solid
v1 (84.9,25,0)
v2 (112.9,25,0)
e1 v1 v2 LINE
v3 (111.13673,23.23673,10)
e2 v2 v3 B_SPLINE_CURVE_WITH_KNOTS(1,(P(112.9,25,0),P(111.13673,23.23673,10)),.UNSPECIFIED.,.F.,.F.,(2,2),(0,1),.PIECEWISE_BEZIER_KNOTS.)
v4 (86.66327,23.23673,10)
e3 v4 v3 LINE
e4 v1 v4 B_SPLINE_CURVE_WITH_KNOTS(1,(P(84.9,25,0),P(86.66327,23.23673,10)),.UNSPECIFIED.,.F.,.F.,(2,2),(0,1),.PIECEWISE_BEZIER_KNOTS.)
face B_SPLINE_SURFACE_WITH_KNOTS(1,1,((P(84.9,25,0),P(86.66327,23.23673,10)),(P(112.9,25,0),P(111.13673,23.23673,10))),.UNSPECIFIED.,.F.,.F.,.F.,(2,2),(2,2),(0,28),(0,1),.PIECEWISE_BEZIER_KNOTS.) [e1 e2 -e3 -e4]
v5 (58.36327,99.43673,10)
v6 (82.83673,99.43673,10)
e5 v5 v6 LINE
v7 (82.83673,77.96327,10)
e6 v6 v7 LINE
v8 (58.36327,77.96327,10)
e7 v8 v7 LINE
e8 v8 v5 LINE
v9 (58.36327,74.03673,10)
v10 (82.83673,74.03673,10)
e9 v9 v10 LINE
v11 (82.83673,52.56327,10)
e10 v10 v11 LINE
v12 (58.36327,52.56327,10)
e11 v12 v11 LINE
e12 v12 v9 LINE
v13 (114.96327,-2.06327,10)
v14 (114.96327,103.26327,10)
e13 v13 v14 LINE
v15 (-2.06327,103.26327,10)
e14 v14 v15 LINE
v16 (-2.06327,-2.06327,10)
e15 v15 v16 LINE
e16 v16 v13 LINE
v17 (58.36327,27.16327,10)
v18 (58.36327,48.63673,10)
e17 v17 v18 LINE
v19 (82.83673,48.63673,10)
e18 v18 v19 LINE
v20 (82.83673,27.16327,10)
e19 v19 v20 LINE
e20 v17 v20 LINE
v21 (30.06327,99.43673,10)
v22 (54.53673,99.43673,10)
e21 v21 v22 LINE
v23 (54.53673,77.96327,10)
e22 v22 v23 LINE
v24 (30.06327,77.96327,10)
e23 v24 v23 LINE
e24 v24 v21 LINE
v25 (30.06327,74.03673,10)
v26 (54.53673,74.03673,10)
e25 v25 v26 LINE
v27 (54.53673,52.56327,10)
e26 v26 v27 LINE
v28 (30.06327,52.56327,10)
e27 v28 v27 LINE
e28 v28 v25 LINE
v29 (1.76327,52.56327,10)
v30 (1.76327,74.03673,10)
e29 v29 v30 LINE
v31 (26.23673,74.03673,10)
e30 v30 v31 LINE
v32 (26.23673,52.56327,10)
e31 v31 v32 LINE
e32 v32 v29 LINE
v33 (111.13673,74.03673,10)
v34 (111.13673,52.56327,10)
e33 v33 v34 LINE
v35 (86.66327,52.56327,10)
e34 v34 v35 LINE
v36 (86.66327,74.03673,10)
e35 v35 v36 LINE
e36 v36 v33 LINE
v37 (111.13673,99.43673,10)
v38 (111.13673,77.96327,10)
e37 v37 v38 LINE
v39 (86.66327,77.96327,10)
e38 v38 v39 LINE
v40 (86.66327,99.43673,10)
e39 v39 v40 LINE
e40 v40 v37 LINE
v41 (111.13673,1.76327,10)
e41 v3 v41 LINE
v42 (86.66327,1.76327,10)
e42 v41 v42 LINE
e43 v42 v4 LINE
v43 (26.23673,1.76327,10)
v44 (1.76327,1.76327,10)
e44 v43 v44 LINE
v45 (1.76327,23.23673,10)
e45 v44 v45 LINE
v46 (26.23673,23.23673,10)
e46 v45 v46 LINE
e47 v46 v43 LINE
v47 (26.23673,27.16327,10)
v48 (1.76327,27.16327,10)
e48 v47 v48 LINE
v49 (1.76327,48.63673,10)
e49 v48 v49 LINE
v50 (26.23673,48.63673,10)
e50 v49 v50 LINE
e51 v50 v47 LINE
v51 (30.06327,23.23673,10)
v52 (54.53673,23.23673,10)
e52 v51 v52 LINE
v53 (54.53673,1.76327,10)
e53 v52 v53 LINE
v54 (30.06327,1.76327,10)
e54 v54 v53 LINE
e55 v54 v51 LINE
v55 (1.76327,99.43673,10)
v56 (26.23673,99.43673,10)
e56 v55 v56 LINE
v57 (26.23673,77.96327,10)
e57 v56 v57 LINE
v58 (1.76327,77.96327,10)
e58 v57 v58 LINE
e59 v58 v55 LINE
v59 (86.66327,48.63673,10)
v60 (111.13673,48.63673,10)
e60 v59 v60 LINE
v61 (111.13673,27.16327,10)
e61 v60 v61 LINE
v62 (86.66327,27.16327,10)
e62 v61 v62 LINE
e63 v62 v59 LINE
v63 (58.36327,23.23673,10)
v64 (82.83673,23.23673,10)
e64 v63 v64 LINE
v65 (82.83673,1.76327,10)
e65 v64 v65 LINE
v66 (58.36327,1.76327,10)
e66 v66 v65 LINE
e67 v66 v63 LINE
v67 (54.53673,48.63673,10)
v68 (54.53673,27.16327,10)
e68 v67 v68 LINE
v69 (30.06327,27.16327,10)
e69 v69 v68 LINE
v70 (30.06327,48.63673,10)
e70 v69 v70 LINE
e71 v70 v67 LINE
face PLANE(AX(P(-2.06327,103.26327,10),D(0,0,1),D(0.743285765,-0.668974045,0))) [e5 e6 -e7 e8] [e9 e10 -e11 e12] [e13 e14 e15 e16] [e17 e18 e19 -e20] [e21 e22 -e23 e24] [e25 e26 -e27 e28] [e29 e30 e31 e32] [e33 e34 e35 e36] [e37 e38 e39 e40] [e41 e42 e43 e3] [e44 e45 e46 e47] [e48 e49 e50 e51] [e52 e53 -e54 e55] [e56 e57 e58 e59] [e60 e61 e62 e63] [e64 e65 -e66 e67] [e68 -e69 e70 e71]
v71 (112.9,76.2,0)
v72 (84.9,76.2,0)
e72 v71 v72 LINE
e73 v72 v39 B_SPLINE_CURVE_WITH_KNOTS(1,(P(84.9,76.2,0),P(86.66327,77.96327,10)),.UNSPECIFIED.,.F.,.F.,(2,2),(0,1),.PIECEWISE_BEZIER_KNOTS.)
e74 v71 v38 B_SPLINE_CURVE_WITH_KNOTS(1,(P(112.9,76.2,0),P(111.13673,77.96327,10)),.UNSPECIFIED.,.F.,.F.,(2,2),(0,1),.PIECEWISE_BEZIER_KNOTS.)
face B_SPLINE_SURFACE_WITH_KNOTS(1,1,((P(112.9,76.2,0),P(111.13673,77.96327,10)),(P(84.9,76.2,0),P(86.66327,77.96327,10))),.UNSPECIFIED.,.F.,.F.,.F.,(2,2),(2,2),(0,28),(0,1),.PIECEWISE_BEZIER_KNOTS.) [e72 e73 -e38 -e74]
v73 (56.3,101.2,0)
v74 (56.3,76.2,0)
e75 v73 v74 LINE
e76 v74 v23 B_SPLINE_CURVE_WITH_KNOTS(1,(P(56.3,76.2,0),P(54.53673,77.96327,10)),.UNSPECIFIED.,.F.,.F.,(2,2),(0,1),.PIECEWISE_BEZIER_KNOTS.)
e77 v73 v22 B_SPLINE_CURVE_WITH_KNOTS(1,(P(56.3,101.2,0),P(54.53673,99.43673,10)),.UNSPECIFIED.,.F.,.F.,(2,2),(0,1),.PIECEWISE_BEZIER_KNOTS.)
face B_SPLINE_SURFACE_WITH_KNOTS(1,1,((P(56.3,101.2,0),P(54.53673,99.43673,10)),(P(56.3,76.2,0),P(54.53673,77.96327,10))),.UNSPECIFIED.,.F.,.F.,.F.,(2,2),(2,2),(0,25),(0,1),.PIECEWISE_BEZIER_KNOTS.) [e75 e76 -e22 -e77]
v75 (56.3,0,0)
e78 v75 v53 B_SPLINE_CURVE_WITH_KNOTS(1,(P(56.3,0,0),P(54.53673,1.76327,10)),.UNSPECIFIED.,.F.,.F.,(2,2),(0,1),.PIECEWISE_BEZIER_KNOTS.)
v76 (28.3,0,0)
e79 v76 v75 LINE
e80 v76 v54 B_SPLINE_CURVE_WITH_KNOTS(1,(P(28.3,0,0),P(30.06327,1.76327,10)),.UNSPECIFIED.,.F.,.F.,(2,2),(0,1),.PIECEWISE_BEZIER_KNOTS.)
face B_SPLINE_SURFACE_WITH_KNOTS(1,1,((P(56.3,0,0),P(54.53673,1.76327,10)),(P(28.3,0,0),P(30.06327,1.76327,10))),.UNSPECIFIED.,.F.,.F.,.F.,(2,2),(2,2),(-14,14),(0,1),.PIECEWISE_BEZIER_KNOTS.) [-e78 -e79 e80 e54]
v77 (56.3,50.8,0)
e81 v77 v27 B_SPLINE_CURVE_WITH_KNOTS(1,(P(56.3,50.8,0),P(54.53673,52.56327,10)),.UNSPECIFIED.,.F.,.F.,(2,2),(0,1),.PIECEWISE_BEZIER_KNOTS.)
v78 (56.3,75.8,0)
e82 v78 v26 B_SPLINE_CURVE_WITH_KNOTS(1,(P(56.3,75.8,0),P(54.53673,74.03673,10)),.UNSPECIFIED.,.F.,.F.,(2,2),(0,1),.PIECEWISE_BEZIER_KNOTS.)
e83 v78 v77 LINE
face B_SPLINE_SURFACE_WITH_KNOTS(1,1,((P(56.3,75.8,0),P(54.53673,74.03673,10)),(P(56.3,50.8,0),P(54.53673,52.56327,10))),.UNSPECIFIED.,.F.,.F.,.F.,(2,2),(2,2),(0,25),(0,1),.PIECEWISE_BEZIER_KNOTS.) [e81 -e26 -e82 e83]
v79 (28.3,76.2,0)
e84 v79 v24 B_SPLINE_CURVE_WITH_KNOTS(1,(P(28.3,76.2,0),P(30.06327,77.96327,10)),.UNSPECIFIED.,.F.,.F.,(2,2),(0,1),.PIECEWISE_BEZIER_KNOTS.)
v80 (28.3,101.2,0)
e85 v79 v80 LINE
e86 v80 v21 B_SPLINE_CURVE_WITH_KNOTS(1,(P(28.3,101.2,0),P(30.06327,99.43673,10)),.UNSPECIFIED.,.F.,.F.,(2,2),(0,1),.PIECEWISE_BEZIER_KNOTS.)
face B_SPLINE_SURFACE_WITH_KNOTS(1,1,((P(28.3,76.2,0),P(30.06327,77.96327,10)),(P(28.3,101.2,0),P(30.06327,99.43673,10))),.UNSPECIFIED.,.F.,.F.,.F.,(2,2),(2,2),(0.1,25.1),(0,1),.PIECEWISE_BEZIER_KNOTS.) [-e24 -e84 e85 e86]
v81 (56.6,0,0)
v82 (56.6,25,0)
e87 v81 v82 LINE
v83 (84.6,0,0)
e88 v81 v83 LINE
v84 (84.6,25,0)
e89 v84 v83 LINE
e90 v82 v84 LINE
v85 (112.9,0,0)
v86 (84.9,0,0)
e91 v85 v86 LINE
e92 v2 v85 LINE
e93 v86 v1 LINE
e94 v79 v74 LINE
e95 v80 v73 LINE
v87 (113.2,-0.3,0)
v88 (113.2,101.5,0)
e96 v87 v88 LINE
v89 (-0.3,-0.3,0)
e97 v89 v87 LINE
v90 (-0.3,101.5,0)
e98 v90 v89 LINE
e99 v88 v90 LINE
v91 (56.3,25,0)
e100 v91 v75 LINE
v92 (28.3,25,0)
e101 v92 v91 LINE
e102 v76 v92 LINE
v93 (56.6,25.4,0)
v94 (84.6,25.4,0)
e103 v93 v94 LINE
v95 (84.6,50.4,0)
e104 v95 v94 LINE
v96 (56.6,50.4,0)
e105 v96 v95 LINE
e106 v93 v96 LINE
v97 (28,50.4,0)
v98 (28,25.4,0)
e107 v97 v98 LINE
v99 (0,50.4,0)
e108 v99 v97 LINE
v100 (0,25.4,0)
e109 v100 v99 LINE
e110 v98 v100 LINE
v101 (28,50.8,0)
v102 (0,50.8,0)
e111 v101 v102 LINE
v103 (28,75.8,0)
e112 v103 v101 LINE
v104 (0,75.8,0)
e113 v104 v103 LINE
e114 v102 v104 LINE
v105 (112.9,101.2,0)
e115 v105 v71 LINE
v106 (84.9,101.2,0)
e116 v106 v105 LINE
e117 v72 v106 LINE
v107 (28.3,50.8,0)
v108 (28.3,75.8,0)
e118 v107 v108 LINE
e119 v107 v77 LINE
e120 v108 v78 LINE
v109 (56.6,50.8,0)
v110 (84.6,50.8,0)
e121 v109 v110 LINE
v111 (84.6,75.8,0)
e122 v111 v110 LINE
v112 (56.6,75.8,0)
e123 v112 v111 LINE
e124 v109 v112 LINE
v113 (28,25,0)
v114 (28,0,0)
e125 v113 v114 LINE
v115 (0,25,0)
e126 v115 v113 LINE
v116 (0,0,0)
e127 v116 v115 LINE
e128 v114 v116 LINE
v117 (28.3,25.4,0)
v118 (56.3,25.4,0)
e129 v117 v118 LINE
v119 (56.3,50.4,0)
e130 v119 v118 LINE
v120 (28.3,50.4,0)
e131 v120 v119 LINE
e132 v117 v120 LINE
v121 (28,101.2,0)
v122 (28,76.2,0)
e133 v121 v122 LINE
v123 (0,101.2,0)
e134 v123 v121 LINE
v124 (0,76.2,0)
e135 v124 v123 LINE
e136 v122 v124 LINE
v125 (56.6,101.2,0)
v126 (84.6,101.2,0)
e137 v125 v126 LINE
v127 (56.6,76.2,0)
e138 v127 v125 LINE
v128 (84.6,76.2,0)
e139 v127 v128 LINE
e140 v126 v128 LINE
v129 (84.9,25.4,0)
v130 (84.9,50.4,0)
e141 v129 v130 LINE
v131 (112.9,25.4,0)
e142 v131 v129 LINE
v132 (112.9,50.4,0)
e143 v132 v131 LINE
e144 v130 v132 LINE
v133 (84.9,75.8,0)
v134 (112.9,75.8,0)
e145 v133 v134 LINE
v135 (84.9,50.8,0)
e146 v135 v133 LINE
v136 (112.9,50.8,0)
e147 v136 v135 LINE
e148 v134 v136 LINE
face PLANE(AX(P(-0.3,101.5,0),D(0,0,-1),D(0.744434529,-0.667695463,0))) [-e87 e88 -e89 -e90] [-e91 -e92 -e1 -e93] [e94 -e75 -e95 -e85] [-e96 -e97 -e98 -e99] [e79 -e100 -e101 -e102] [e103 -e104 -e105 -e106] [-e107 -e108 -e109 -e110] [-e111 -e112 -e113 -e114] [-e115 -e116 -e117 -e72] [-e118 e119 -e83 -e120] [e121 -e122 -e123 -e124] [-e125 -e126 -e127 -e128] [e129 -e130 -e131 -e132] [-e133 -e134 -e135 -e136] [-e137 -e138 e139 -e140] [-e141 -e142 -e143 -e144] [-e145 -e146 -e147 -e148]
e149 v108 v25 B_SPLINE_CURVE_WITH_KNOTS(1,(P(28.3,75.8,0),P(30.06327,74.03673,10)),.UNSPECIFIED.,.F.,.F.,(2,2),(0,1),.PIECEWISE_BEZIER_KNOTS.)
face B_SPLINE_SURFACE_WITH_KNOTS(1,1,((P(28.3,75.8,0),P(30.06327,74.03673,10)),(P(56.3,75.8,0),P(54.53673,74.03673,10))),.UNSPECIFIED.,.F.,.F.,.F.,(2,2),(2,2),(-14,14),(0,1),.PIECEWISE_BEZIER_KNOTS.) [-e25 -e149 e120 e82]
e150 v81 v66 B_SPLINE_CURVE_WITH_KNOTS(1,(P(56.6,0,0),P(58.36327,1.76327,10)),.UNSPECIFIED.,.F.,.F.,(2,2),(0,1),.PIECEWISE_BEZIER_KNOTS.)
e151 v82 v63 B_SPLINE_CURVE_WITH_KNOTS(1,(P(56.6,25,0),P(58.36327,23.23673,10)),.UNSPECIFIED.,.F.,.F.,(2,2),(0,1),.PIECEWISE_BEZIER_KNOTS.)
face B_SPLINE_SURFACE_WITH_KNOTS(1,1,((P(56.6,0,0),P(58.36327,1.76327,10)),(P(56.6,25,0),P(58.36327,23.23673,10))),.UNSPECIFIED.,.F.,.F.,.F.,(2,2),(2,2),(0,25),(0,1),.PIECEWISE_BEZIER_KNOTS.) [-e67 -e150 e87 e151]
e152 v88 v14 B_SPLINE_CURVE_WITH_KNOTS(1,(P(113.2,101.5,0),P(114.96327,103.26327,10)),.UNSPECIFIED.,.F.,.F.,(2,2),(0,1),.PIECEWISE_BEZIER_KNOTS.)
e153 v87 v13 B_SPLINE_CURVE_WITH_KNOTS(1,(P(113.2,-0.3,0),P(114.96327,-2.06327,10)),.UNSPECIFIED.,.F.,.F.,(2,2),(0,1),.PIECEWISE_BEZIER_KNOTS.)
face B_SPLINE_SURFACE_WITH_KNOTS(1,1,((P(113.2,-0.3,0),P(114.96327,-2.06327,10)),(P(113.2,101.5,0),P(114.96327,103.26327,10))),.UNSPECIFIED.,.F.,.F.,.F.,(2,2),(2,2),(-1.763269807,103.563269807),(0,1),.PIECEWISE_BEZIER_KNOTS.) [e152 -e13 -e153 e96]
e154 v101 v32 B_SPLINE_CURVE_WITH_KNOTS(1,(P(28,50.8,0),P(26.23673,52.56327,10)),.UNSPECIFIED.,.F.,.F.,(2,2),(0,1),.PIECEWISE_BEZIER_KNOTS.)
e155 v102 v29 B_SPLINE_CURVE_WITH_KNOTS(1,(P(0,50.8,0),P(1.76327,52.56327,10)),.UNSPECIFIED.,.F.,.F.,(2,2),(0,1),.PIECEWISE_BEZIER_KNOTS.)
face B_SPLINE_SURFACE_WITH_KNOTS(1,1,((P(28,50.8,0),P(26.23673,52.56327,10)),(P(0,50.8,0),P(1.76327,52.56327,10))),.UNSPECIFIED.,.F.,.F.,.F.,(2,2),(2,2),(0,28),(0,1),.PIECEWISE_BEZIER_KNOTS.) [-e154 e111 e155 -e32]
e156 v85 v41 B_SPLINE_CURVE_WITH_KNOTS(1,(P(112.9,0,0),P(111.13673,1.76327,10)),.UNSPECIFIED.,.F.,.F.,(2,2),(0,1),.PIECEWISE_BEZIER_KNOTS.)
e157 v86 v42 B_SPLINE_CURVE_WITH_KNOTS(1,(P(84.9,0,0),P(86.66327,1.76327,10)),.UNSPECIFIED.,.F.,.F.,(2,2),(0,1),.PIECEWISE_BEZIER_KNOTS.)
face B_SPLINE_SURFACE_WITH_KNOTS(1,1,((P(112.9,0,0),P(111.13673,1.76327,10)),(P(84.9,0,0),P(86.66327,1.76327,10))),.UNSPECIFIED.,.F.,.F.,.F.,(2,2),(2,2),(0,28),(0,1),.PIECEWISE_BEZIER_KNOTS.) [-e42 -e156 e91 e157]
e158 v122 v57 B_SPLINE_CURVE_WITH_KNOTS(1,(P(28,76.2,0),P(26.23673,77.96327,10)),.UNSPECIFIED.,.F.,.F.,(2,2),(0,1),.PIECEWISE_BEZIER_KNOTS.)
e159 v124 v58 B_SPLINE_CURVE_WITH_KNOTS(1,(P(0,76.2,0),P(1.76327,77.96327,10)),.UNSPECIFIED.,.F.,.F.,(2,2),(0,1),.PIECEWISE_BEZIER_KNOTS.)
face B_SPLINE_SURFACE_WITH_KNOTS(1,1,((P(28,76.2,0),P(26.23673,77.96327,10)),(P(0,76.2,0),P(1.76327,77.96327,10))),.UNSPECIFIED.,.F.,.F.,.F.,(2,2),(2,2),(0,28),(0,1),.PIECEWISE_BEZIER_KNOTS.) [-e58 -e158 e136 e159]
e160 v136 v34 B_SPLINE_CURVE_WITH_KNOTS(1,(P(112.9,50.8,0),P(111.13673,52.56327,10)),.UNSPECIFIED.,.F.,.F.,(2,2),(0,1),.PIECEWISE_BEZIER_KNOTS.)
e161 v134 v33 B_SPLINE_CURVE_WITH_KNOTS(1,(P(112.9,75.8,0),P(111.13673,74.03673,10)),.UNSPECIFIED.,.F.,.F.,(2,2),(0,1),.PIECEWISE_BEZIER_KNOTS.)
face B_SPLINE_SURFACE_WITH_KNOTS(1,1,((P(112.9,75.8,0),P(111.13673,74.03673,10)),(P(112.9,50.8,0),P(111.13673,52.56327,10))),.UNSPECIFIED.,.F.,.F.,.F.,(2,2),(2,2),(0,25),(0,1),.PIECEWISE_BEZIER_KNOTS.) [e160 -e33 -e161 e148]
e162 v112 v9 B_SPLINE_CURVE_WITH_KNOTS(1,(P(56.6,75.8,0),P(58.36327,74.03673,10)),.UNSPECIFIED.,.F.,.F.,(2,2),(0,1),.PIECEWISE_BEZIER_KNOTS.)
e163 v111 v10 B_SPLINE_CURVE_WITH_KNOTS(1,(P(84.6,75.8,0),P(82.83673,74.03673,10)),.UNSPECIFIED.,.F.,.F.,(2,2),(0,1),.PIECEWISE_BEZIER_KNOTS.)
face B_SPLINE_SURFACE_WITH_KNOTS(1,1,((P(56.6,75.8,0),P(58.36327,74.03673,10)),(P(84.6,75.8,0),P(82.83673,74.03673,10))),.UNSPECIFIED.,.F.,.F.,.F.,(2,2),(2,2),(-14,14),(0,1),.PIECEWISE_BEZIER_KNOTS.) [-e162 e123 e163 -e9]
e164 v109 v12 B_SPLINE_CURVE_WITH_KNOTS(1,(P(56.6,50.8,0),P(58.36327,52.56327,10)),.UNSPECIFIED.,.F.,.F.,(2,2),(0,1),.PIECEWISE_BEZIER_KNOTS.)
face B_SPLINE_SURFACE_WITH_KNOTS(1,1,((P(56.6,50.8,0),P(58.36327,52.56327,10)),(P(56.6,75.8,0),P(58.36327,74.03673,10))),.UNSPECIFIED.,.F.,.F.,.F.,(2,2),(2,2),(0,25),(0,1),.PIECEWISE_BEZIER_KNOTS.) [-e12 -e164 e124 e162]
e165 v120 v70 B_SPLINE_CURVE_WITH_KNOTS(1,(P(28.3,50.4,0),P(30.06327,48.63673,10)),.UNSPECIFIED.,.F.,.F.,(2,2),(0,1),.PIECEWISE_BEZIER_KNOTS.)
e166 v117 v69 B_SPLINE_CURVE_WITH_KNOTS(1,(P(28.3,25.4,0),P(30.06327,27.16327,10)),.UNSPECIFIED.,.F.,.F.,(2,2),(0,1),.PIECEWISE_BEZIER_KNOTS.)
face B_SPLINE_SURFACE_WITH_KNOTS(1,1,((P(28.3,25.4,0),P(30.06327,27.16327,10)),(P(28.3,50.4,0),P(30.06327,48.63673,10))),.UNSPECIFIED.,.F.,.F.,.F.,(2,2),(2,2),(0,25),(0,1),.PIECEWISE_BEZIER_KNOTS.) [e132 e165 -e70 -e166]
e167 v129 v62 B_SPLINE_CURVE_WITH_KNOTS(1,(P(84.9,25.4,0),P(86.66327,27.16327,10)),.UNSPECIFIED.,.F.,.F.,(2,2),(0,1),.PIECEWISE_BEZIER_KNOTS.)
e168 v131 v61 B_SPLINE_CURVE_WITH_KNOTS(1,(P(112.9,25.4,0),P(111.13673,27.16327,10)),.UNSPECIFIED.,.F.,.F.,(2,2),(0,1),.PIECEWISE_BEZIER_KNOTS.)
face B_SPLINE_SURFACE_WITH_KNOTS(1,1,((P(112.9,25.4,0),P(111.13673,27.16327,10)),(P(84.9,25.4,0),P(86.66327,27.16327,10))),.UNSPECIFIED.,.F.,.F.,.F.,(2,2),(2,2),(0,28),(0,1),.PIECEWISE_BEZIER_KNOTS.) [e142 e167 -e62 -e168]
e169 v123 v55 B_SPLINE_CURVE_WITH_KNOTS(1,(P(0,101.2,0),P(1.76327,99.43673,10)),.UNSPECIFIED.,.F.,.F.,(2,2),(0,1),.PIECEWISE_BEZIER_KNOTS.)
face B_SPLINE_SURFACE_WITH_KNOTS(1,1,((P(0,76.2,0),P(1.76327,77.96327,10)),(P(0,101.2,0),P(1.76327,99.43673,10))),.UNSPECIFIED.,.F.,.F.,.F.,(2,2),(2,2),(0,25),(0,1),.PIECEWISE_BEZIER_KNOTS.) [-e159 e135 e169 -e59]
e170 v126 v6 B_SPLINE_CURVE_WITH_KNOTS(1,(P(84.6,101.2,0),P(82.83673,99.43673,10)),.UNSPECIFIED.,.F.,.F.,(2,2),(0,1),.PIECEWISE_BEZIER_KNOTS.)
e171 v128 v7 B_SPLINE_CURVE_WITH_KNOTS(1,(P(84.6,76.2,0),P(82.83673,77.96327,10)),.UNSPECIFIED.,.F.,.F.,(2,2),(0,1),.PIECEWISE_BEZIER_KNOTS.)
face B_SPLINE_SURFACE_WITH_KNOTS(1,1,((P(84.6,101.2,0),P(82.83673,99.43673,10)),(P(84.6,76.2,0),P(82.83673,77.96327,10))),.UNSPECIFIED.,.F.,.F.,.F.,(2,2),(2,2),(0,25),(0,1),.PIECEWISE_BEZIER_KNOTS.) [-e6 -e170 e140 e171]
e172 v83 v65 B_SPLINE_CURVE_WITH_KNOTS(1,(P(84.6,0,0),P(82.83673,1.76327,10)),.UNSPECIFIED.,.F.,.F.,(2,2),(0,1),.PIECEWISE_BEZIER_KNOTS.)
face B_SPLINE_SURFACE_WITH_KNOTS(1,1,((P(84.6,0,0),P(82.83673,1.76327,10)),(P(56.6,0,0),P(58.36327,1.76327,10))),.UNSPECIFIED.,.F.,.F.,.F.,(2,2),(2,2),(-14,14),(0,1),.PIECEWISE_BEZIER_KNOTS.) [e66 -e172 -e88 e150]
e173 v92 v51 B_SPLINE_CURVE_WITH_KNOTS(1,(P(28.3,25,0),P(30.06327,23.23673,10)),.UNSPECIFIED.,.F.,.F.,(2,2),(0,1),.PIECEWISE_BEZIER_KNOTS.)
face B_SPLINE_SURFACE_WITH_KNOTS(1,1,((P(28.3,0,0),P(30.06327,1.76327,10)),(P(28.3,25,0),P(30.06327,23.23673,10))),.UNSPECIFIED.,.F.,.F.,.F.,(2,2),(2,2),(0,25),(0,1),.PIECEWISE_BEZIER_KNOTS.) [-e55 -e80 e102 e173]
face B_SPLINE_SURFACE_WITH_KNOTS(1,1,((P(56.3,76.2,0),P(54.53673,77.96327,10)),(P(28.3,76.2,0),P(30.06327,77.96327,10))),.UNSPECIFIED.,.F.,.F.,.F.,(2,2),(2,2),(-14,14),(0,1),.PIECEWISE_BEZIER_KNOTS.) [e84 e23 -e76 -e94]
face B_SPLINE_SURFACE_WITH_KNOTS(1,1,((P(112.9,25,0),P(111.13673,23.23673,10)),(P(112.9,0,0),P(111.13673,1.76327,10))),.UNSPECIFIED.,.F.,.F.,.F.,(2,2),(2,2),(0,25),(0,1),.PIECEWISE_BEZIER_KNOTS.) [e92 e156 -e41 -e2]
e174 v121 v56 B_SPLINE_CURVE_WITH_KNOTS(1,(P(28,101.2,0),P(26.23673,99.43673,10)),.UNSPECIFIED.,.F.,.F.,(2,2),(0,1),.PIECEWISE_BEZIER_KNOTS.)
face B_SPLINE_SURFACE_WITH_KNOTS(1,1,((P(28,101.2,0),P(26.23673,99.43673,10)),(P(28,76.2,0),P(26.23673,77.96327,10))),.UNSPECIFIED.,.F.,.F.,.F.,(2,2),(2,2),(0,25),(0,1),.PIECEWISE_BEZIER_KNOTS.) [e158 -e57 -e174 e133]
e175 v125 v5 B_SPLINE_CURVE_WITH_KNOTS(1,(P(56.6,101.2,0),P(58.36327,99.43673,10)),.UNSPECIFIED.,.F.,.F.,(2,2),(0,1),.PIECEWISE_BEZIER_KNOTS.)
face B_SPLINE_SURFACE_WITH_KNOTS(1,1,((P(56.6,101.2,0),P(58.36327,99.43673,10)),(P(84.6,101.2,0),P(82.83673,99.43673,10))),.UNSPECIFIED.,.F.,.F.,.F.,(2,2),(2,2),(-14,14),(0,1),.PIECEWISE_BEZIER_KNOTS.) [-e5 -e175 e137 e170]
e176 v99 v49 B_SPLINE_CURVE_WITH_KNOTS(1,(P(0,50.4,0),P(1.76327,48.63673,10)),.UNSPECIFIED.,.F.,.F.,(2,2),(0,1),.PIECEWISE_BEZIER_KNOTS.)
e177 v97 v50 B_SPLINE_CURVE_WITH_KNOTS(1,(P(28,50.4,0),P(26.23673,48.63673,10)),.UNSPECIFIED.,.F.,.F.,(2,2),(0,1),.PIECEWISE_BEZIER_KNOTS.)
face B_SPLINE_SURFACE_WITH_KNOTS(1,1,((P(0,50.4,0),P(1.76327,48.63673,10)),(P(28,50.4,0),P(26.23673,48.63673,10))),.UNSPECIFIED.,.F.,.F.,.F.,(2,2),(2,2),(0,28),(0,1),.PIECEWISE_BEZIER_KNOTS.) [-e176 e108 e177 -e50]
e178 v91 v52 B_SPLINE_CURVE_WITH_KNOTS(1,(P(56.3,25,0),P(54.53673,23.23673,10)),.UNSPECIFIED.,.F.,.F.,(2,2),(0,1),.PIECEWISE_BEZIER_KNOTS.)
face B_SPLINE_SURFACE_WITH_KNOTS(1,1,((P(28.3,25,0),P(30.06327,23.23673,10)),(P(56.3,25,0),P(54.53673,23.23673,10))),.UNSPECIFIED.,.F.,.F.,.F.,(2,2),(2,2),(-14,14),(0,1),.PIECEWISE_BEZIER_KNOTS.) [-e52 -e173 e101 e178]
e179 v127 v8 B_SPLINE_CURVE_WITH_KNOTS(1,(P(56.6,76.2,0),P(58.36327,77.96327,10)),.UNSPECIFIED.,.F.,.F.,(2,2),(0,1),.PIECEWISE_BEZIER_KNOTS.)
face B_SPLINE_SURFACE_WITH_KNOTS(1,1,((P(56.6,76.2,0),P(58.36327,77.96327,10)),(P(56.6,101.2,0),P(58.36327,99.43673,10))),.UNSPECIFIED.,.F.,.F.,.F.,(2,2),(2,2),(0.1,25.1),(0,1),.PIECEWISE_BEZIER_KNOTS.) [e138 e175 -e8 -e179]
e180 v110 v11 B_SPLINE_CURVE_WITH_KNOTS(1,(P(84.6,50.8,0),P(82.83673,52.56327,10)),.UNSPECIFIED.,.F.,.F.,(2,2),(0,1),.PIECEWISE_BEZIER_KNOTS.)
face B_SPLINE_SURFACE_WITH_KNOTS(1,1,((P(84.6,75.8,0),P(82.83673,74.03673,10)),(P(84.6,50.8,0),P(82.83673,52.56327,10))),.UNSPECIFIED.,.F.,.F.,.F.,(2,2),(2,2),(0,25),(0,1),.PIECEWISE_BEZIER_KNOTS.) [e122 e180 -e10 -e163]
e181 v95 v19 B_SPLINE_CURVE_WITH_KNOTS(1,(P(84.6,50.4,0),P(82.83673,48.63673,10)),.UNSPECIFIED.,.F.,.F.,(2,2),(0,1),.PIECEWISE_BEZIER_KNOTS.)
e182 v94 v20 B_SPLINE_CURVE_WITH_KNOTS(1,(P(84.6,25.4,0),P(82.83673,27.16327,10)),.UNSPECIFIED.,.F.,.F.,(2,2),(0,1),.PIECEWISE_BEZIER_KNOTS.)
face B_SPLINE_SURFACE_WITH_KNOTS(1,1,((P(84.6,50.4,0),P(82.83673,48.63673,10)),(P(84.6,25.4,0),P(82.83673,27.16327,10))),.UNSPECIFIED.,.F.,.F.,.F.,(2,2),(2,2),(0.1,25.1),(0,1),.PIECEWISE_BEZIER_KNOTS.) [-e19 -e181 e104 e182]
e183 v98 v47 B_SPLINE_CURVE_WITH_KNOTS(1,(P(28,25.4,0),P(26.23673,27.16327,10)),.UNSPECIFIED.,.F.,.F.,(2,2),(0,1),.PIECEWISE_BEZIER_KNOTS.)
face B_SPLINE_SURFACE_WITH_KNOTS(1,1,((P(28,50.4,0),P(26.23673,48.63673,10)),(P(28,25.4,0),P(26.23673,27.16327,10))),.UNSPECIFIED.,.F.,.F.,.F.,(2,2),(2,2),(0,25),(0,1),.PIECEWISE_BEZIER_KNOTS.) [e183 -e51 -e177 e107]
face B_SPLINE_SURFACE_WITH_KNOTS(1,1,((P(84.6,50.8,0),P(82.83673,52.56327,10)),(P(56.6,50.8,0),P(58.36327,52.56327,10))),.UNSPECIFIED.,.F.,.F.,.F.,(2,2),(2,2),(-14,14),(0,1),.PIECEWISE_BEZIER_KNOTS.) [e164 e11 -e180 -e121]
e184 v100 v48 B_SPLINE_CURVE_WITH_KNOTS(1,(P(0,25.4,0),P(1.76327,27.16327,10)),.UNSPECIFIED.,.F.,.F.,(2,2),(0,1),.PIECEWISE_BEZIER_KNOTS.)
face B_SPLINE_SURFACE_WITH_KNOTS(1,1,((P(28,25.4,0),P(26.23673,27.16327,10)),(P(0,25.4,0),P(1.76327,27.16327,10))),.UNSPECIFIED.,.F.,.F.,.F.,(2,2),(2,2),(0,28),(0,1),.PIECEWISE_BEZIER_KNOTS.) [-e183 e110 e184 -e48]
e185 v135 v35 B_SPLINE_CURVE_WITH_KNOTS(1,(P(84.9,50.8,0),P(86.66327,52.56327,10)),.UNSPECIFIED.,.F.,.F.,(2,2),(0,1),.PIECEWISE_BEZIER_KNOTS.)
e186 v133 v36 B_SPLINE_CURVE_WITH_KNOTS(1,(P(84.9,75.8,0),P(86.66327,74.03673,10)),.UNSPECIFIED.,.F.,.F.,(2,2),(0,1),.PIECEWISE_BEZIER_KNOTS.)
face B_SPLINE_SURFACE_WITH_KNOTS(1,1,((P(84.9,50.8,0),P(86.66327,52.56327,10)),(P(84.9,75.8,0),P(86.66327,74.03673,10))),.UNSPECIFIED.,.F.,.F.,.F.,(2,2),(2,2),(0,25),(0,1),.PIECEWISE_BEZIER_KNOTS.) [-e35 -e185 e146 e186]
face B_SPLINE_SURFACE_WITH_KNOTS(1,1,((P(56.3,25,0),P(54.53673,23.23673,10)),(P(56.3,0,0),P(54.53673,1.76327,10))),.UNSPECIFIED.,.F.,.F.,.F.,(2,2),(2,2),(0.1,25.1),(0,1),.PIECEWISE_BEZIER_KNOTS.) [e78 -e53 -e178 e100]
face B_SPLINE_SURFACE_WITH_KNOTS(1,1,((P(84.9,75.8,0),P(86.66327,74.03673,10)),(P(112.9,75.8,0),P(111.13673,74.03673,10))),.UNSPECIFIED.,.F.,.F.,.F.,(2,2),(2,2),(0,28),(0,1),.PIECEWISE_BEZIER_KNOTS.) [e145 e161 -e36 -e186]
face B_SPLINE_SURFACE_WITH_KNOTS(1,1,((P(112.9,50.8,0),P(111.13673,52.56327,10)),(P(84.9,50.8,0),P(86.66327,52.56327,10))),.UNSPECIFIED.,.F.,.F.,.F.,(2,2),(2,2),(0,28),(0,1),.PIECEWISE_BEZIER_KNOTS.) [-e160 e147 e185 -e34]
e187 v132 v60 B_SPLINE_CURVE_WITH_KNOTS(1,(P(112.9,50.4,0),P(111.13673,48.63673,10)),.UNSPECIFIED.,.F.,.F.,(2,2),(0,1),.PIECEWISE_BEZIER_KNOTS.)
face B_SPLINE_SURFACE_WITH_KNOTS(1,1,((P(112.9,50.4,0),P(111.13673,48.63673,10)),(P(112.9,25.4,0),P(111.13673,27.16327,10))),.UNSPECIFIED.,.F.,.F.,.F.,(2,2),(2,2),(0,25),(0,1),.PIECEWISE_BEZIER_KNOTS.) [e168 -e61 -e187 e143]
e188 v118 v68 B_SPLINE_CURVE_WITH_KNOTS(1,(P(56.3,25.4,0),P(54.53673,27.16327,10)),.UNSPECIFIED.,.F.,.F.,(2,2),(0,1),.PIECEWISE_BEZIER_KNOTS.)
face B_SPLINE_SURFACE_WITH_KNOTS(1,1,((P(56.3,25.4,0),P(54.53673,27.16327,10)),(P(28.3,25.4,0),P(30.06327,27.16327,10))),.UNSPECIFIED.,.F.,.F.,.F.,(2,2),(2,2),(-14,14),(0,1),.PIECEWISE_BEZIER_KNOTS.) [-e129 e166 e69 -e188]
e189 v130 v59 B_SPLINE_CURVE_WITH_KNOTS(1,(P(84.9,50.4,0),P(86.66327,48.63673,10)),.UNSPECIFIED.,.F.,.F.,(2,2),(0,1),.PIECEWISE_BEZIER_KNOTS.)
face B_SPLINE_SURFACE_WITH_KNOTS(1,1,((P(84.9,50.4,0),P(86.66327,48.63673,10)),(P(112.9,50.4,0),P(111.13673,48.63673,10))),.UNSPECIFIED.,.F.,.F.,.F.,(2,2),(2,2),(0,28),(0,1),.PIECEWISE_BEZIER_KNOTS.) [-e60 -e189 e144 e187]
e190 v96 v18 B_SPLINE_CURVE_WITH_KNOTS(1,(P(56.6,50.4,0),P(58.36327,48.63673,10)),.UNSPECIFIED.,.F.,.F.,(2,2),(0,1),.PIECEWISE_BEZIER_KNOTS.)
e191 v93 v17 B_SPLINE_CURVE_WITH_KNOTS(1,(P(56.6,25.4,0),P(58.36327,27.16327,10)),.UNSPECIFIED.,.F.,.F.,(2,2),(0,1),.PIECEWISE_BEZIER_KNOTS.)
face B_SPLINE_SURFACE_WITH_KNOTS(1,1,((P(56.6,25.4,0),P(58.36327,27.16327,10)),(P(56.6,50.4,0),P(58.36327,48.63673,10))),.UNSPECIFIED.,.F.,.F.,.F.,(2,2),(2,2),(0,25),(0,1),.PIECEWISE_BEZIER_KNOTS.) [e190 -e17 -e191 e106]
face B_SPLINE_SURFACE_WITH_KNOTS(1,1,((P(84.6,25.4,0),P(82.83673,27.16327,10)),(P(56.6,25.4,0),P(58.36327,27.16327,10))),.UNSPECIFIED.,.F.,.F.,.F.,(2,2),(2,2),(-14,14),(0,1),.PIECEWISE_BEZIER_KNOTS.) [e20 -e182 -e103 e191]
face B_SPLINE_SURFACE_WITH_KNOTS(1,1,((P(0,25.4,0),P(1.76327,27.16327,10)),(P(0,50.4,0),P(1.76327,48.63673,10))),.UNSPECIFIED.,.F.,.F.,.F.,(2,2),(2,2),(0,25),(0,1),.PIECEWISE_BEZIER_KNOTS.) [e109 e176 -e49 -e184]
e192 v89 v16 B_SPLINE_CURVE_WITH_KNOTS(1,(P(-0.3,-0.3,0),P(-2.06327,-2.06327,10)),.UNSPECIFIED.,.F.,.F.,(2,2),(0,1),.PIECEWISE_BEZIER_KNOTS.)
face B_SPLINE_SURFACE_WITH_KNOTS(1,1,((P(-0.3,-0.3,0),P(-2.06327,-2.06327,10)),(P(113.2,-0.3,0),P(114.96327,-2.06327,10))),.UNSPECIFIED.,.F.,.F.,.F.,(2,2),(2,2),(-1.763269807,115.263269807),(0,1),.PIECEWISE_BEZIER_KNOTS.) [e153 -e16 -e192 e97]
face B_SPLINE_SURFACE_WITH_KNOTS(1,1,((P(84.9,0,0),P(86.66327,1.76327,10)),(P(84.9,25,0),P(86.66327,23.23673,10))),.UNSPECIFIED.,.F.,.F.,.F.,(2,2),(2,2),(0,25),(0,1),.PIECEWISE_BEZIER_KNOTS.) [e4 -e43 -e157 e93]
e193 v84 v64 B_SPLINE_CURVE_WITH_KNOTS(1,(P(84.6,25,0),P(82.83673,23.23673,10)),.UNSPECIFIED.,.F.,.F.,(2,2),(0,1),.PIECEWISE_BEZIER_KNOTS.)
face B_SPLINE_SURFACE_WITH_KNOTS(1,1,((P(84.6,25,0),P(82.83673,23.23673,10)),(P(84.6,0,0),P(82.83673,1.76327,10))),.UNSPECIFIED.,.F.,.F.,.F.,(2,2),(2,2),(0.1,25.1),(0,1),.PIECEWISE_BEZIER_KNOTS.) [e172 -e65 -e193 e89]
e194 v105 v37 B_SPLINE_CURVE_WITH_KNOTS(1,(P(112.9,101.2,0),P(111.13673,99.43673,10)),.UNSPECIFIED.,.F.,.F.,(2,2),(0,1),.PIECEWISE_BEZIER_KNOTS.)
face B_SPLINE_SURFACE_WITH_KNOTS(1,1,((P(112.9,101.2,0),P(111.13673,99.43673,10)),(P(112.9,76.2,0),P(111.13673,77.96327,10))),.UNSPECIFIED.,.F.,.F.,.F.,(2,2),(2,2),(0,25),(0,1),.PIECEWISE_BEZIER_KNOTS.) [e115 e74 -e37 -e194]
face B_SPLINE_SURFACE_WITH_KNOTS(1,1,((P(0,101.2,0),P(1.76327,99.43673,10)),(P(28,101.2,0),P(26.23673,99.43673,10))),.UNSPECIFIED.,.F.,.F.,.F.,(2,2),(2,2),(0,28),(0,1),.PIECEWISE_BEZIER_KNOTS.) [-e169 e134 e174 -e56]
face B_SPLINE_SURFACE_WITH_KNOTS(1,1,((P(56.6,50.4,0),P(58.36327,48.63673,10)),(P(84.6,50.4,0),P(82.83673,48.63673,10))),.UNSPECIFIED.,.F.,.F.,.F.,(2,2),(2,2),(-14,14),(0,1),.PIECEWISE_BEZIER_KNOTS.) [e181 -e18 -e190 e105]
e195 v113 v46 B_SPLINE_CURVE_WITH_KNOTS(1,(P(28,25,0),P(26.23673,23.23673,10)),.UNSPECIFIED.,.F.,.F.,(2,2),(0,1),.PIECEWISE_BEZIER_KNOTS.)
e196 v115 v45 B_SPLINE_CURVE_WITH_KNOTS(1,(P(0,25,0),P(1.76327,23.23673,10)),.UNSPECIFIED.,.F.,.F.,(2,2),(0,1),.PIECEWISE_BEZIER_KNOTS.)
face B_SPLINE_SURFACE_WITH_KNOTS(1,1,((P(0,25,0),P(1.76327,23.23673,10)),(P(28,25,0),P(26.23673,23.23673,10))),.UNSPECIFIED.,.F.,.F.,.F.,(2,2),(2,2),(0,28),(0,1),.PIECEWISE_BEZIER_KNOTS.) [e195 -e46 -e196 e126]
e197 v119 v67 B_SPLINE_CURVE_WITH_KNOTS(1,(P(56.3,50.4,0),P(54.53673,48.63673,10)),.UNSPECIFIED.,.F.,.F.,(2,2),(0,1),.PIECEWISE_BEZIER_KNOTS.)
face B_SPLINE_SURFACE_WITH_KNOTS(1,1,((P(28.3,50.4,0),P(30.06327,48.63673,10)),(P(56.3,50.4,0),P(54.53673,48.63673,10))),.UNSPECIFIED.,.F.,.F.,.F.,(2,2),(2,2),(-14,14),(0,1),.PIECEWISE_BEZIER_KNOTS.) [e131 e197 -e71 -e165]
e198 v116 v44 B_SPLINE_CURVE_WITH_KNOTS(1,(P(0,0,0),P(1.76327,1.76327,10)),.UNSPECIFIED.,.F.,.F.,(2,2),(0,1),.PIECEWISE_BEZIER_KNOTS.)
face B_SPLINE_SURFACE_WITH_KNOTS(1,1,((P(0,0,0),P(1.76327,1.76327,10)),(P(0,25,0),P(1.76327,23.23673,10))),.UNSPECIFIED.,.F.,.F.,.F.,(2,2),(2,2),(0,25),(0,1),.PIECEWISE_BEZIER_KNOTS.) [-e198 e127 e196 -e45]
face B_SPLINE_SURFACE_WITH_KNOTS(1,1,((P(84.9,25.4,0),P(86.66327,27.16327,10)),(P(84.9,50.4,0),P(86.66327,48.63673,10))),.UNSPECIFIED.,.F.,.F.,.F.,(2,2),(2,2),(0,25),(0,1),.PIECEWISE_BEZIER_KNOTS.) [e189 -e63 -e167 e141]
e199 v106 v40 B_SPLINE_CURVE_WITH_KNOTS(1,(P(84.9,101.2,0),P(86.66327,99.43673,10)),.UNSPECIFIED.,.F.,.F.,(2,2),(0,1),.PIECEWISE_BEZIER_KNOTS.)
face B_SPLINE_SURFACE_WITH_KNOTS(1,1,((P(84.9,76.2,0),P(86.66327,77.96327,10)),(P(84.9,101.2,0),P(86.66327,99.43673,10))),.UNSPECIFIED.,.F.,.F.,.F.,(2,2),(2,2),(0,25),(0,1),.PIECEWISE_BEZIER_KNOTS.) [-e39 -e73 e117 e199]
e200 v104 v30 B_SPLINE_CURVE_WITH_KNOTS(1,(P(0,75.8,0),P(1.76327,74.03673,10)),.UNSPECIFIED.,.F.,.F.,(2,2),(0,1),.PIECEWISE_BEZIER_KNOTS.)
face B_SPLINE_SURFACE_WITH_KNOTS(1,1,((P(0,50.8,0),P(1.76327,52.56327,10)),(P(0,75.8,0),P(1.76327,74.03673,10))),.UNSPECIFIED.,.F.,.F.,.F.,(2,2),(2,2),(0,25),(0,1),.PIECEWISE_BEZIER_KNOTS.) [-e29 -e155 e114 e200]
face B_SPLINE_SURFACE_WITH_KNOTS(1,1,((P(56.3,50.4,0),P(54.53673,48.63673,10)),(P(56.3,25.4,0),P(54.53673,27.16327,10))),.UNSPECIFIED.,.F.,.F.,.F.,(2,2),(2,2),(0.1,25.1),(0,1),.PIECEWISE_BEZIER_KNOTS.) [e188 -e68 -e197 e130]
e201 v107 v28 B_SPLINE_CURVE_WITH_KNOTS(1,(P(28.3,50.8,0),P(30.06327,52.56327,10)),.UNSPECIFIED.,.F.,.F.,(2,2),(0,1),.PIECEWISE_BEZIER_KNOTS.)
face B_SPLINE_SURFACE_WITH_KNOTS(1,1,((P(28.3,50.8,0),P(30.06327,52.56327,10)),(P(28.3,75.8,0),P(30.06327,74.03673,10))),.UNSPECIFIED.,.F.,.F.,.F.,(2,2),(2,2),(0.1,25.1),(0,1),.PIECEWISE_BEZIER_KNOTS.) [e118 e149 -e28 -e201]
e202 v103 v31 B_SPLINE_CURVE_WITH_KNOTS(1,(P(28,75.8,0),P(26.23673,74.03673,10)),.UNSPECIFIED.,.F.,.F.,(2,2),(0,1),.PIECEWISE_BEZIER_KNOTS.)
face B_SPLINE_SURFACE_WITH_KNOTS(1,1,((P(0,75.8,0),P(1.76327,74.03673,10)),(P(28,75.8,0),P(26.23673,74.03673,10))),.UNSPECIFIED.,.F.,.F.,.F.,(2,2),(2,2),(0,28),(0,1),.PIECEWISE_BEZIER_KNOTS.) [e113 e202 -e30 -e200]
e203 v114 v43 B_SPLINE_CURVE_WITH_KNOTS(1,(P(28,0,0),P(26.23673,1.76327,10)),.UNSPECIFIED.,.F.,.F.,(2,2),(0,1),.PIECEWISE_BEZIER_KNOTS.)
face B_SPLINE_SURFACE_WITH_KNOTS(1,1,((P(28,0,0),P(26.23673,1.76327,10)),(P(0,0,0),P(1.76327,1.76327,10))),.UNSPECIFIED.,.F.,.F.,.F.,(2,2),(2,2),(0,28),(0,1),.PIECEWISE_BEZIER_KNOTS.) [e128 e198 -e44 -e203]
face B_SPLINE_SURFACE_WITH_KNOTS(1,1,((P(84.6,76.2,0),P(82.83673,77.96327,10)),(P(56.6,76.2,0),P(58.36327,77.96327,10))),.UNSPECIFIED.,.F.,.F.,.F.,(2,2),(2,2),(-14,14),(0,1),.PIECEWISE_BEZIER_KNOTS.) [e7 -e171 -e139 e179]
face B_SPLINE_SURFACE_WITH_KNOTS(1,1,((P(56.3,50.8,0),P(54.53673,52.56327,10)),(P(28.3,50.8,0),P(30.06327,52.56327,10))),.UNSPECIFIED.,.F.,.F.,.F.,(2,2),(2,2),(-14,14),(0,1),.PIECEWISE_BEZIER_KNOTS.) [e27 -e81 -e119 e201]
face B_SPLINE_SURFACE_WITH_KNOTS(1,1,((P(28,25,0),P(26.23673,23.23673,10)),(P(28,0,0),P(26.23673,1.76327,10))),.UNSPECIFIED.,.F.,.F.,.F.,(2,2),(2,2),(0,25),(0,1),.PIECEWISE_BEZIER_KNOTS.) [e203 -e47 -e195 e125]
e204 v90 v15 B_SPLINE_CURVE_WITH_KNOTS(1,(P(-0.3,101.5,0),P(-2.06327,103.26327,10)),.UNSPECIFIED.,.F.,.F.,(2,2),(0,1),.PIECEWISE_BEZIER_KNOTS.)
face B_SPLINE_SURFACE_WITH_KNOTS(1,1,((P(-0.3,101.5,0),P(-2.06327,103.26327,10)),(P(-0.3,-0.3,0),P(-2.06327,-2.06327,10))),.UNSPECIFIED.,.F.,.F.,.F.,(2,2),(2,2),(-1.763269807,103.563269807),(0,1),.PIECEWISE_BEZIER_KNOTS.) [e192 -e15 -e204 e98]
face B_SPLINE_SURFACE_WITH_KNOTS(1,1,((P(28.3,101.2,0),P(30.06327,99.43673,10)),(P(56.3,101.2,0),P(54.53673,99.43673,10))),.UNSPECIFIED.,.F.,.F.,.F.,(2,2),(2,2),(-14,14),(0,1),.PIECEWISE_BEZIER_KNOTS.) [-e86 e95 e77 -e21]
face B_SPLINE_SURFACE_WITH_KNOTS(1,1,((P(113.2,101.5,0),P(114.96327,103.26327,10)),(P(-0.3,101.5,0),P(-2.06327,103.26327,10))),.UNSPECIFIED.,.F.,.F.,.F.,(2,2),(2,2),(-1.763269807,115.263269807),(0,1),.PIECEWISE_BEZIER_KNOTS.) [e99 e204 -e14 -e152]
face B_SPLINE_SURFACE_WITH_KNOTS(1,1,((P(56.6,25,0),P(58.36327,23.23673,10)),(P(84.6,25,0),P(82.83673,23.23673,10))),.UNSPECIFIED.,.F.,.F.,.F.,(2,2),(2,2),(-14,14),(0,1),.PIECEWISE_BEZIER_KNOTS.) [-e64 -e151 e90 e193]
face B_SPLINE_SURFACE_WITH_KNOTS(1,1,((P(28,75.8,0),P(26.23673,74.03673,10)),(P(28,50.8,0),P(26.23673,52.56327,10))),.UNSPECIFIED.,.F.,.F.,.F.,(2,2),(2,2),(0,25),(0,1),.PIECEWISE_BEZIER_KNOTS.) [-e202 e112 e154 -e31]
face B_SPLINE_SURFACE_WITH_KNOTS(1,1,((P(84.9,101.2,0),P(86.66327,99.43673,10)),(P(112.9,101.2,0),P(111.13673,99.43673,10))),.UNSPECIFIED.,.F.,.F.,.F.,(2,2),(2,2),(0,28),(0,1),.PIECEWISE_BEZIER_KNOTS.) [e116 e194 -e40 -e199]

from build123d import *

# Parameters (mm, degrees)
F0_W     = 28
F0_H     = 0.3
F0_W_2   = 28.3
F0_H_2   = 0.2
F0_H_3   = 0.1
F0_W_3   = 0.3
F1_DEPTH = 10
F1_TAPER = -10


with BuildPart() as f1:
    # F0 (on Top) → F1 (new body)
    with BuildSketch(Plane.XY):
        Polygon((28, 0), (0, 0), (0, 25), (28, 25), (28, 25.1), (-0.3, 25.1), (-0.3, -0.3), (28, -0.3), align=None)
        with Locations((42.3, -0.15)):
            Rectangle(F0_W, F0_H)
        with Locations((13.85, 25.2)):
            Rectangle(F0_W_2, F0_H_2)
        with Locations((13.85, 50.6)):
            Rectangle(F0_W_2, F0_H_2)
        Polygon((-0.3, 101.5), (-0.3, 76.1), (28, 76.1), (28, 76.2), (0, 76.2), (0, 101.2), (28, 101.2), (28, 101.5), align=None)
        with Locations((13.85, 76)):
            Rectangle(F0_W_2, F0_H_2)
        with Locations((42.3, 101.35)):
            Rectangle(F0_W, F0_H)
        with Locations((70.6, -0.15)):
            Rectangle(F0_W, F0_H)
        with Locations((70.6, 101.35)):
            Rectangle(F0_W, F0_H)
        Polygon((84.9, 0), (84.9, -0.3), (113.2, -0.3), (113.2, 25.1), (84.9, 25.1), (84.9, 25), (112.9, 25), (112.9, 0), align=None)
        with Locations((99.05, 25.2)):
            Rectangle(F0_W_2, F0_H_2)
        with Locations((99.05, 50.6)):
            Rectangle(F0_W_2, F0_H_2)
        with Locations((99.05, 76)):
            Rectangle(F0_W_2, F0_H_2)
        Polygon((84.9, 76.1), (113.2, 76.1), (113.2, 101.5), (84.9, 101.5), (84.9, 101.2), (112.9, 101.2), (112.9, 76.2), (84.9, 76.2), align=None)
        Polygon((-0.3, 25.3), (28, 25.3), (28, 25.4), (0, 25.4), (0, 50.4), (28, 50.4), (28, 50.5), (-0.3, 50.5), align=None)
        Polygon((-0.3, 75.9), (-0.3, 50.7), (28, 50.7), (28, 50.8), (0, 50.8), (0, 75.8), (28, 75.8), (28, 75.9), align=None)
        Polygon((84.9, 25.4), (84.9, 25.3), (113.2, 25.3), (113.2, 50.5), (84.9, 50.5), (84.9, 50.4), (112.9, 50.4), (112.9, 25.4), align=None)
        Polygon((84.9, 50.7), (113.2, 50.7), (113.2, 75.9), (84.9, 75.9), (84.9, 75.8), (112.9, 75.8), (112.9, 50.8), (84.9, 50.8), align=None)
        Polygon((28, 25), (28, 0), (28, -0.3), (28.3, -0.3), (28.3, 0), (28.3, 25), (28.3, 25.1), (28, 25.1), align=None)
        Polygon((28, 76.2), (28, 76.1), (28.3, 76.1), (28.3, 76.2), (28.3, 101.2), (28.3, 101.5), (28, 101.5), (28, 101.2), align=None)
        Polygon((84.6, 0), (84.6, -0.3), (84.9, -0.3), (84.9, 0), (84.9, 25), (84.9, 25.1), (84.6, 25.1), (84.6, 25), align=None)
        Polygon((84.6, 76.2), (84.6, 76.1), (84.9, 76.1), (84.9, 76.2), (84.9, 101.2), (84.9, 101.5), (84.6, 101.5), (84.6, 101.2), align=None)
        Polygon((56.3, 0), (56.3, -0.3), (56.6, -0.3), (56.6, 0), (56.6, 25), (56.6, 25.1), (56.3, 25.1), (56.3, 25), align=None)
        Polygon((56.3, 76.2), (56.3, 76.1), (56.6, 76.1), (56.6, 76.2), (56.6, 101.2), (56.6, 101.5), (56.3, 101.5), (56.3, 101.2), align=None)
        with Locations((42.3, 25.35)):
            Rectangle(F0_W, F0_H_3)
        with Locations((70.6, 25.35)):
            Rectangle(F0_W, F0_H_3)
        Polygon((28, 25.4), (28, 25.3), (28.3, 25.3), (28.3, 25.4), (28.3, 50.4), (28.3, 50.5), (28, 50.5), (28, 50.4), align=None)
        Polygon((28, 50.8), (28, 50.7), (28.3, 50.7), (28.3, 50.8), (28.3, 75.8), (28.3, 75.9), (28, 75.9), (28, 75.8), align=None)
        with Locations((42.3, 25.2)):
            Rectangle(F0_W, F0_H_2)
        with Locations((70.6, 25.05)):
            Rectangle(F0_W, F0_H_3)
        with Locations((70.6, 50.75)):
            Rectangle(F0_W, F0_H_3)
        with Locations((70.6, 75.85)):
            Rectangle(F0_W, F0_H_3)
        with Locations((42.3, 50.6)):
            Rectangle(F0_W, F0_H_2)
        with Locations((42.3, 75.85)):
            Rectangle(F0_W, F0_H_3)
        Polygon((84.6, 25.4), (84.6, 25.3), (84.9, 25.3), (84.9, 25.4), (84.9, 50.4), (84.9, 50.5), (84.6, 50.5), (84.6, 50.4), align=None)
        Polygon((84.6, 50.8), (84.6, 50.7), (84.9, 50.7), (84.9, 50.8), (84.9, 75.8), (84.9, 75.9), (84.6, 75.9), (84.6, 75.8), align=None)
        with Locations((42.3, 25.05)):
            Rectangle(F0_W, F0_H_3)
        with Locations((70.6, 25.2)):
            Rectangle(F0_W, F0_H_2)
        Polygon((56.3, 25.4), (56.3, 25.3), (56.6, 25.3), (56.6, 25.4), (56.6, 50.4), (56.6, 50.5), (56.3, 50.5), (56.3, 50.4), align=None)
        Polygon((56.3, 50.8), (56.3, 50.7), (56.6, 50.7), (56.6, 50.8), (56.6, 75.8), (56.6, 75.9), (56.3, 75.9), (56.3, 75.8), align=None)
        with Locations((70.6, 50.6)):
            Rectangle(F0_W, F0_H_2)
        with Locations((42.3, 50.45)):
            Rectangle(F0_W, F0_H_3)
        with Locations((70.6, 76)):
            Rectangle(F0_W, F0_H_2)
        with Locations((42.3, 76)):
            Rectangle(F0_W, F0_H_2)
        with Locations((70.6, 76.15)):
            Rectangle(F0_W, F0_H_3)
        with Locations((42.3, 76.15)):
            Rectangle(F0_W, F0_H_3)
        with Locations((42.3, 50.75)):
            Rectangle(F0_W, F0_H_3)
        with Locations((70.6, 50.45)):
            Rectangle(F0_W, F0_H_3)
        with Locations((84.75, 76)):
            Rectangle(F0_W_3, F0_H_2)
        with Locations((56.45, 76)):
            Rectangle(F0_W_3, F0_H_2)
        with Locations((28.15, 76)):
            Rectangle(F0_W_3, F0_H_2)
        with Locations((84.75, 25.2)):
            Rectangle(F0_W_3, F0_H_2)
        with Locations((84.75, 50.6)):
            Rectangle(F0_W_3, F0_H_2)
        with Locations((28.15, 50.6)):
            Rectangle(F0_W_3, F0_H_2)
        with Locations((56.45, 50.6)):
            Rectangle(F0_W_3, F0_H_2)
        with Locations((56.45, 25.2)):
            Rectangle(F0_W_3, F0_H_2)
        with Locations((28.15, 25.2)):
            Rectangle(F0_W_3, F0_H_2)
    extrude(amount=F1_DEPTH, taper=F1_TAPER)


solid = f1.part
